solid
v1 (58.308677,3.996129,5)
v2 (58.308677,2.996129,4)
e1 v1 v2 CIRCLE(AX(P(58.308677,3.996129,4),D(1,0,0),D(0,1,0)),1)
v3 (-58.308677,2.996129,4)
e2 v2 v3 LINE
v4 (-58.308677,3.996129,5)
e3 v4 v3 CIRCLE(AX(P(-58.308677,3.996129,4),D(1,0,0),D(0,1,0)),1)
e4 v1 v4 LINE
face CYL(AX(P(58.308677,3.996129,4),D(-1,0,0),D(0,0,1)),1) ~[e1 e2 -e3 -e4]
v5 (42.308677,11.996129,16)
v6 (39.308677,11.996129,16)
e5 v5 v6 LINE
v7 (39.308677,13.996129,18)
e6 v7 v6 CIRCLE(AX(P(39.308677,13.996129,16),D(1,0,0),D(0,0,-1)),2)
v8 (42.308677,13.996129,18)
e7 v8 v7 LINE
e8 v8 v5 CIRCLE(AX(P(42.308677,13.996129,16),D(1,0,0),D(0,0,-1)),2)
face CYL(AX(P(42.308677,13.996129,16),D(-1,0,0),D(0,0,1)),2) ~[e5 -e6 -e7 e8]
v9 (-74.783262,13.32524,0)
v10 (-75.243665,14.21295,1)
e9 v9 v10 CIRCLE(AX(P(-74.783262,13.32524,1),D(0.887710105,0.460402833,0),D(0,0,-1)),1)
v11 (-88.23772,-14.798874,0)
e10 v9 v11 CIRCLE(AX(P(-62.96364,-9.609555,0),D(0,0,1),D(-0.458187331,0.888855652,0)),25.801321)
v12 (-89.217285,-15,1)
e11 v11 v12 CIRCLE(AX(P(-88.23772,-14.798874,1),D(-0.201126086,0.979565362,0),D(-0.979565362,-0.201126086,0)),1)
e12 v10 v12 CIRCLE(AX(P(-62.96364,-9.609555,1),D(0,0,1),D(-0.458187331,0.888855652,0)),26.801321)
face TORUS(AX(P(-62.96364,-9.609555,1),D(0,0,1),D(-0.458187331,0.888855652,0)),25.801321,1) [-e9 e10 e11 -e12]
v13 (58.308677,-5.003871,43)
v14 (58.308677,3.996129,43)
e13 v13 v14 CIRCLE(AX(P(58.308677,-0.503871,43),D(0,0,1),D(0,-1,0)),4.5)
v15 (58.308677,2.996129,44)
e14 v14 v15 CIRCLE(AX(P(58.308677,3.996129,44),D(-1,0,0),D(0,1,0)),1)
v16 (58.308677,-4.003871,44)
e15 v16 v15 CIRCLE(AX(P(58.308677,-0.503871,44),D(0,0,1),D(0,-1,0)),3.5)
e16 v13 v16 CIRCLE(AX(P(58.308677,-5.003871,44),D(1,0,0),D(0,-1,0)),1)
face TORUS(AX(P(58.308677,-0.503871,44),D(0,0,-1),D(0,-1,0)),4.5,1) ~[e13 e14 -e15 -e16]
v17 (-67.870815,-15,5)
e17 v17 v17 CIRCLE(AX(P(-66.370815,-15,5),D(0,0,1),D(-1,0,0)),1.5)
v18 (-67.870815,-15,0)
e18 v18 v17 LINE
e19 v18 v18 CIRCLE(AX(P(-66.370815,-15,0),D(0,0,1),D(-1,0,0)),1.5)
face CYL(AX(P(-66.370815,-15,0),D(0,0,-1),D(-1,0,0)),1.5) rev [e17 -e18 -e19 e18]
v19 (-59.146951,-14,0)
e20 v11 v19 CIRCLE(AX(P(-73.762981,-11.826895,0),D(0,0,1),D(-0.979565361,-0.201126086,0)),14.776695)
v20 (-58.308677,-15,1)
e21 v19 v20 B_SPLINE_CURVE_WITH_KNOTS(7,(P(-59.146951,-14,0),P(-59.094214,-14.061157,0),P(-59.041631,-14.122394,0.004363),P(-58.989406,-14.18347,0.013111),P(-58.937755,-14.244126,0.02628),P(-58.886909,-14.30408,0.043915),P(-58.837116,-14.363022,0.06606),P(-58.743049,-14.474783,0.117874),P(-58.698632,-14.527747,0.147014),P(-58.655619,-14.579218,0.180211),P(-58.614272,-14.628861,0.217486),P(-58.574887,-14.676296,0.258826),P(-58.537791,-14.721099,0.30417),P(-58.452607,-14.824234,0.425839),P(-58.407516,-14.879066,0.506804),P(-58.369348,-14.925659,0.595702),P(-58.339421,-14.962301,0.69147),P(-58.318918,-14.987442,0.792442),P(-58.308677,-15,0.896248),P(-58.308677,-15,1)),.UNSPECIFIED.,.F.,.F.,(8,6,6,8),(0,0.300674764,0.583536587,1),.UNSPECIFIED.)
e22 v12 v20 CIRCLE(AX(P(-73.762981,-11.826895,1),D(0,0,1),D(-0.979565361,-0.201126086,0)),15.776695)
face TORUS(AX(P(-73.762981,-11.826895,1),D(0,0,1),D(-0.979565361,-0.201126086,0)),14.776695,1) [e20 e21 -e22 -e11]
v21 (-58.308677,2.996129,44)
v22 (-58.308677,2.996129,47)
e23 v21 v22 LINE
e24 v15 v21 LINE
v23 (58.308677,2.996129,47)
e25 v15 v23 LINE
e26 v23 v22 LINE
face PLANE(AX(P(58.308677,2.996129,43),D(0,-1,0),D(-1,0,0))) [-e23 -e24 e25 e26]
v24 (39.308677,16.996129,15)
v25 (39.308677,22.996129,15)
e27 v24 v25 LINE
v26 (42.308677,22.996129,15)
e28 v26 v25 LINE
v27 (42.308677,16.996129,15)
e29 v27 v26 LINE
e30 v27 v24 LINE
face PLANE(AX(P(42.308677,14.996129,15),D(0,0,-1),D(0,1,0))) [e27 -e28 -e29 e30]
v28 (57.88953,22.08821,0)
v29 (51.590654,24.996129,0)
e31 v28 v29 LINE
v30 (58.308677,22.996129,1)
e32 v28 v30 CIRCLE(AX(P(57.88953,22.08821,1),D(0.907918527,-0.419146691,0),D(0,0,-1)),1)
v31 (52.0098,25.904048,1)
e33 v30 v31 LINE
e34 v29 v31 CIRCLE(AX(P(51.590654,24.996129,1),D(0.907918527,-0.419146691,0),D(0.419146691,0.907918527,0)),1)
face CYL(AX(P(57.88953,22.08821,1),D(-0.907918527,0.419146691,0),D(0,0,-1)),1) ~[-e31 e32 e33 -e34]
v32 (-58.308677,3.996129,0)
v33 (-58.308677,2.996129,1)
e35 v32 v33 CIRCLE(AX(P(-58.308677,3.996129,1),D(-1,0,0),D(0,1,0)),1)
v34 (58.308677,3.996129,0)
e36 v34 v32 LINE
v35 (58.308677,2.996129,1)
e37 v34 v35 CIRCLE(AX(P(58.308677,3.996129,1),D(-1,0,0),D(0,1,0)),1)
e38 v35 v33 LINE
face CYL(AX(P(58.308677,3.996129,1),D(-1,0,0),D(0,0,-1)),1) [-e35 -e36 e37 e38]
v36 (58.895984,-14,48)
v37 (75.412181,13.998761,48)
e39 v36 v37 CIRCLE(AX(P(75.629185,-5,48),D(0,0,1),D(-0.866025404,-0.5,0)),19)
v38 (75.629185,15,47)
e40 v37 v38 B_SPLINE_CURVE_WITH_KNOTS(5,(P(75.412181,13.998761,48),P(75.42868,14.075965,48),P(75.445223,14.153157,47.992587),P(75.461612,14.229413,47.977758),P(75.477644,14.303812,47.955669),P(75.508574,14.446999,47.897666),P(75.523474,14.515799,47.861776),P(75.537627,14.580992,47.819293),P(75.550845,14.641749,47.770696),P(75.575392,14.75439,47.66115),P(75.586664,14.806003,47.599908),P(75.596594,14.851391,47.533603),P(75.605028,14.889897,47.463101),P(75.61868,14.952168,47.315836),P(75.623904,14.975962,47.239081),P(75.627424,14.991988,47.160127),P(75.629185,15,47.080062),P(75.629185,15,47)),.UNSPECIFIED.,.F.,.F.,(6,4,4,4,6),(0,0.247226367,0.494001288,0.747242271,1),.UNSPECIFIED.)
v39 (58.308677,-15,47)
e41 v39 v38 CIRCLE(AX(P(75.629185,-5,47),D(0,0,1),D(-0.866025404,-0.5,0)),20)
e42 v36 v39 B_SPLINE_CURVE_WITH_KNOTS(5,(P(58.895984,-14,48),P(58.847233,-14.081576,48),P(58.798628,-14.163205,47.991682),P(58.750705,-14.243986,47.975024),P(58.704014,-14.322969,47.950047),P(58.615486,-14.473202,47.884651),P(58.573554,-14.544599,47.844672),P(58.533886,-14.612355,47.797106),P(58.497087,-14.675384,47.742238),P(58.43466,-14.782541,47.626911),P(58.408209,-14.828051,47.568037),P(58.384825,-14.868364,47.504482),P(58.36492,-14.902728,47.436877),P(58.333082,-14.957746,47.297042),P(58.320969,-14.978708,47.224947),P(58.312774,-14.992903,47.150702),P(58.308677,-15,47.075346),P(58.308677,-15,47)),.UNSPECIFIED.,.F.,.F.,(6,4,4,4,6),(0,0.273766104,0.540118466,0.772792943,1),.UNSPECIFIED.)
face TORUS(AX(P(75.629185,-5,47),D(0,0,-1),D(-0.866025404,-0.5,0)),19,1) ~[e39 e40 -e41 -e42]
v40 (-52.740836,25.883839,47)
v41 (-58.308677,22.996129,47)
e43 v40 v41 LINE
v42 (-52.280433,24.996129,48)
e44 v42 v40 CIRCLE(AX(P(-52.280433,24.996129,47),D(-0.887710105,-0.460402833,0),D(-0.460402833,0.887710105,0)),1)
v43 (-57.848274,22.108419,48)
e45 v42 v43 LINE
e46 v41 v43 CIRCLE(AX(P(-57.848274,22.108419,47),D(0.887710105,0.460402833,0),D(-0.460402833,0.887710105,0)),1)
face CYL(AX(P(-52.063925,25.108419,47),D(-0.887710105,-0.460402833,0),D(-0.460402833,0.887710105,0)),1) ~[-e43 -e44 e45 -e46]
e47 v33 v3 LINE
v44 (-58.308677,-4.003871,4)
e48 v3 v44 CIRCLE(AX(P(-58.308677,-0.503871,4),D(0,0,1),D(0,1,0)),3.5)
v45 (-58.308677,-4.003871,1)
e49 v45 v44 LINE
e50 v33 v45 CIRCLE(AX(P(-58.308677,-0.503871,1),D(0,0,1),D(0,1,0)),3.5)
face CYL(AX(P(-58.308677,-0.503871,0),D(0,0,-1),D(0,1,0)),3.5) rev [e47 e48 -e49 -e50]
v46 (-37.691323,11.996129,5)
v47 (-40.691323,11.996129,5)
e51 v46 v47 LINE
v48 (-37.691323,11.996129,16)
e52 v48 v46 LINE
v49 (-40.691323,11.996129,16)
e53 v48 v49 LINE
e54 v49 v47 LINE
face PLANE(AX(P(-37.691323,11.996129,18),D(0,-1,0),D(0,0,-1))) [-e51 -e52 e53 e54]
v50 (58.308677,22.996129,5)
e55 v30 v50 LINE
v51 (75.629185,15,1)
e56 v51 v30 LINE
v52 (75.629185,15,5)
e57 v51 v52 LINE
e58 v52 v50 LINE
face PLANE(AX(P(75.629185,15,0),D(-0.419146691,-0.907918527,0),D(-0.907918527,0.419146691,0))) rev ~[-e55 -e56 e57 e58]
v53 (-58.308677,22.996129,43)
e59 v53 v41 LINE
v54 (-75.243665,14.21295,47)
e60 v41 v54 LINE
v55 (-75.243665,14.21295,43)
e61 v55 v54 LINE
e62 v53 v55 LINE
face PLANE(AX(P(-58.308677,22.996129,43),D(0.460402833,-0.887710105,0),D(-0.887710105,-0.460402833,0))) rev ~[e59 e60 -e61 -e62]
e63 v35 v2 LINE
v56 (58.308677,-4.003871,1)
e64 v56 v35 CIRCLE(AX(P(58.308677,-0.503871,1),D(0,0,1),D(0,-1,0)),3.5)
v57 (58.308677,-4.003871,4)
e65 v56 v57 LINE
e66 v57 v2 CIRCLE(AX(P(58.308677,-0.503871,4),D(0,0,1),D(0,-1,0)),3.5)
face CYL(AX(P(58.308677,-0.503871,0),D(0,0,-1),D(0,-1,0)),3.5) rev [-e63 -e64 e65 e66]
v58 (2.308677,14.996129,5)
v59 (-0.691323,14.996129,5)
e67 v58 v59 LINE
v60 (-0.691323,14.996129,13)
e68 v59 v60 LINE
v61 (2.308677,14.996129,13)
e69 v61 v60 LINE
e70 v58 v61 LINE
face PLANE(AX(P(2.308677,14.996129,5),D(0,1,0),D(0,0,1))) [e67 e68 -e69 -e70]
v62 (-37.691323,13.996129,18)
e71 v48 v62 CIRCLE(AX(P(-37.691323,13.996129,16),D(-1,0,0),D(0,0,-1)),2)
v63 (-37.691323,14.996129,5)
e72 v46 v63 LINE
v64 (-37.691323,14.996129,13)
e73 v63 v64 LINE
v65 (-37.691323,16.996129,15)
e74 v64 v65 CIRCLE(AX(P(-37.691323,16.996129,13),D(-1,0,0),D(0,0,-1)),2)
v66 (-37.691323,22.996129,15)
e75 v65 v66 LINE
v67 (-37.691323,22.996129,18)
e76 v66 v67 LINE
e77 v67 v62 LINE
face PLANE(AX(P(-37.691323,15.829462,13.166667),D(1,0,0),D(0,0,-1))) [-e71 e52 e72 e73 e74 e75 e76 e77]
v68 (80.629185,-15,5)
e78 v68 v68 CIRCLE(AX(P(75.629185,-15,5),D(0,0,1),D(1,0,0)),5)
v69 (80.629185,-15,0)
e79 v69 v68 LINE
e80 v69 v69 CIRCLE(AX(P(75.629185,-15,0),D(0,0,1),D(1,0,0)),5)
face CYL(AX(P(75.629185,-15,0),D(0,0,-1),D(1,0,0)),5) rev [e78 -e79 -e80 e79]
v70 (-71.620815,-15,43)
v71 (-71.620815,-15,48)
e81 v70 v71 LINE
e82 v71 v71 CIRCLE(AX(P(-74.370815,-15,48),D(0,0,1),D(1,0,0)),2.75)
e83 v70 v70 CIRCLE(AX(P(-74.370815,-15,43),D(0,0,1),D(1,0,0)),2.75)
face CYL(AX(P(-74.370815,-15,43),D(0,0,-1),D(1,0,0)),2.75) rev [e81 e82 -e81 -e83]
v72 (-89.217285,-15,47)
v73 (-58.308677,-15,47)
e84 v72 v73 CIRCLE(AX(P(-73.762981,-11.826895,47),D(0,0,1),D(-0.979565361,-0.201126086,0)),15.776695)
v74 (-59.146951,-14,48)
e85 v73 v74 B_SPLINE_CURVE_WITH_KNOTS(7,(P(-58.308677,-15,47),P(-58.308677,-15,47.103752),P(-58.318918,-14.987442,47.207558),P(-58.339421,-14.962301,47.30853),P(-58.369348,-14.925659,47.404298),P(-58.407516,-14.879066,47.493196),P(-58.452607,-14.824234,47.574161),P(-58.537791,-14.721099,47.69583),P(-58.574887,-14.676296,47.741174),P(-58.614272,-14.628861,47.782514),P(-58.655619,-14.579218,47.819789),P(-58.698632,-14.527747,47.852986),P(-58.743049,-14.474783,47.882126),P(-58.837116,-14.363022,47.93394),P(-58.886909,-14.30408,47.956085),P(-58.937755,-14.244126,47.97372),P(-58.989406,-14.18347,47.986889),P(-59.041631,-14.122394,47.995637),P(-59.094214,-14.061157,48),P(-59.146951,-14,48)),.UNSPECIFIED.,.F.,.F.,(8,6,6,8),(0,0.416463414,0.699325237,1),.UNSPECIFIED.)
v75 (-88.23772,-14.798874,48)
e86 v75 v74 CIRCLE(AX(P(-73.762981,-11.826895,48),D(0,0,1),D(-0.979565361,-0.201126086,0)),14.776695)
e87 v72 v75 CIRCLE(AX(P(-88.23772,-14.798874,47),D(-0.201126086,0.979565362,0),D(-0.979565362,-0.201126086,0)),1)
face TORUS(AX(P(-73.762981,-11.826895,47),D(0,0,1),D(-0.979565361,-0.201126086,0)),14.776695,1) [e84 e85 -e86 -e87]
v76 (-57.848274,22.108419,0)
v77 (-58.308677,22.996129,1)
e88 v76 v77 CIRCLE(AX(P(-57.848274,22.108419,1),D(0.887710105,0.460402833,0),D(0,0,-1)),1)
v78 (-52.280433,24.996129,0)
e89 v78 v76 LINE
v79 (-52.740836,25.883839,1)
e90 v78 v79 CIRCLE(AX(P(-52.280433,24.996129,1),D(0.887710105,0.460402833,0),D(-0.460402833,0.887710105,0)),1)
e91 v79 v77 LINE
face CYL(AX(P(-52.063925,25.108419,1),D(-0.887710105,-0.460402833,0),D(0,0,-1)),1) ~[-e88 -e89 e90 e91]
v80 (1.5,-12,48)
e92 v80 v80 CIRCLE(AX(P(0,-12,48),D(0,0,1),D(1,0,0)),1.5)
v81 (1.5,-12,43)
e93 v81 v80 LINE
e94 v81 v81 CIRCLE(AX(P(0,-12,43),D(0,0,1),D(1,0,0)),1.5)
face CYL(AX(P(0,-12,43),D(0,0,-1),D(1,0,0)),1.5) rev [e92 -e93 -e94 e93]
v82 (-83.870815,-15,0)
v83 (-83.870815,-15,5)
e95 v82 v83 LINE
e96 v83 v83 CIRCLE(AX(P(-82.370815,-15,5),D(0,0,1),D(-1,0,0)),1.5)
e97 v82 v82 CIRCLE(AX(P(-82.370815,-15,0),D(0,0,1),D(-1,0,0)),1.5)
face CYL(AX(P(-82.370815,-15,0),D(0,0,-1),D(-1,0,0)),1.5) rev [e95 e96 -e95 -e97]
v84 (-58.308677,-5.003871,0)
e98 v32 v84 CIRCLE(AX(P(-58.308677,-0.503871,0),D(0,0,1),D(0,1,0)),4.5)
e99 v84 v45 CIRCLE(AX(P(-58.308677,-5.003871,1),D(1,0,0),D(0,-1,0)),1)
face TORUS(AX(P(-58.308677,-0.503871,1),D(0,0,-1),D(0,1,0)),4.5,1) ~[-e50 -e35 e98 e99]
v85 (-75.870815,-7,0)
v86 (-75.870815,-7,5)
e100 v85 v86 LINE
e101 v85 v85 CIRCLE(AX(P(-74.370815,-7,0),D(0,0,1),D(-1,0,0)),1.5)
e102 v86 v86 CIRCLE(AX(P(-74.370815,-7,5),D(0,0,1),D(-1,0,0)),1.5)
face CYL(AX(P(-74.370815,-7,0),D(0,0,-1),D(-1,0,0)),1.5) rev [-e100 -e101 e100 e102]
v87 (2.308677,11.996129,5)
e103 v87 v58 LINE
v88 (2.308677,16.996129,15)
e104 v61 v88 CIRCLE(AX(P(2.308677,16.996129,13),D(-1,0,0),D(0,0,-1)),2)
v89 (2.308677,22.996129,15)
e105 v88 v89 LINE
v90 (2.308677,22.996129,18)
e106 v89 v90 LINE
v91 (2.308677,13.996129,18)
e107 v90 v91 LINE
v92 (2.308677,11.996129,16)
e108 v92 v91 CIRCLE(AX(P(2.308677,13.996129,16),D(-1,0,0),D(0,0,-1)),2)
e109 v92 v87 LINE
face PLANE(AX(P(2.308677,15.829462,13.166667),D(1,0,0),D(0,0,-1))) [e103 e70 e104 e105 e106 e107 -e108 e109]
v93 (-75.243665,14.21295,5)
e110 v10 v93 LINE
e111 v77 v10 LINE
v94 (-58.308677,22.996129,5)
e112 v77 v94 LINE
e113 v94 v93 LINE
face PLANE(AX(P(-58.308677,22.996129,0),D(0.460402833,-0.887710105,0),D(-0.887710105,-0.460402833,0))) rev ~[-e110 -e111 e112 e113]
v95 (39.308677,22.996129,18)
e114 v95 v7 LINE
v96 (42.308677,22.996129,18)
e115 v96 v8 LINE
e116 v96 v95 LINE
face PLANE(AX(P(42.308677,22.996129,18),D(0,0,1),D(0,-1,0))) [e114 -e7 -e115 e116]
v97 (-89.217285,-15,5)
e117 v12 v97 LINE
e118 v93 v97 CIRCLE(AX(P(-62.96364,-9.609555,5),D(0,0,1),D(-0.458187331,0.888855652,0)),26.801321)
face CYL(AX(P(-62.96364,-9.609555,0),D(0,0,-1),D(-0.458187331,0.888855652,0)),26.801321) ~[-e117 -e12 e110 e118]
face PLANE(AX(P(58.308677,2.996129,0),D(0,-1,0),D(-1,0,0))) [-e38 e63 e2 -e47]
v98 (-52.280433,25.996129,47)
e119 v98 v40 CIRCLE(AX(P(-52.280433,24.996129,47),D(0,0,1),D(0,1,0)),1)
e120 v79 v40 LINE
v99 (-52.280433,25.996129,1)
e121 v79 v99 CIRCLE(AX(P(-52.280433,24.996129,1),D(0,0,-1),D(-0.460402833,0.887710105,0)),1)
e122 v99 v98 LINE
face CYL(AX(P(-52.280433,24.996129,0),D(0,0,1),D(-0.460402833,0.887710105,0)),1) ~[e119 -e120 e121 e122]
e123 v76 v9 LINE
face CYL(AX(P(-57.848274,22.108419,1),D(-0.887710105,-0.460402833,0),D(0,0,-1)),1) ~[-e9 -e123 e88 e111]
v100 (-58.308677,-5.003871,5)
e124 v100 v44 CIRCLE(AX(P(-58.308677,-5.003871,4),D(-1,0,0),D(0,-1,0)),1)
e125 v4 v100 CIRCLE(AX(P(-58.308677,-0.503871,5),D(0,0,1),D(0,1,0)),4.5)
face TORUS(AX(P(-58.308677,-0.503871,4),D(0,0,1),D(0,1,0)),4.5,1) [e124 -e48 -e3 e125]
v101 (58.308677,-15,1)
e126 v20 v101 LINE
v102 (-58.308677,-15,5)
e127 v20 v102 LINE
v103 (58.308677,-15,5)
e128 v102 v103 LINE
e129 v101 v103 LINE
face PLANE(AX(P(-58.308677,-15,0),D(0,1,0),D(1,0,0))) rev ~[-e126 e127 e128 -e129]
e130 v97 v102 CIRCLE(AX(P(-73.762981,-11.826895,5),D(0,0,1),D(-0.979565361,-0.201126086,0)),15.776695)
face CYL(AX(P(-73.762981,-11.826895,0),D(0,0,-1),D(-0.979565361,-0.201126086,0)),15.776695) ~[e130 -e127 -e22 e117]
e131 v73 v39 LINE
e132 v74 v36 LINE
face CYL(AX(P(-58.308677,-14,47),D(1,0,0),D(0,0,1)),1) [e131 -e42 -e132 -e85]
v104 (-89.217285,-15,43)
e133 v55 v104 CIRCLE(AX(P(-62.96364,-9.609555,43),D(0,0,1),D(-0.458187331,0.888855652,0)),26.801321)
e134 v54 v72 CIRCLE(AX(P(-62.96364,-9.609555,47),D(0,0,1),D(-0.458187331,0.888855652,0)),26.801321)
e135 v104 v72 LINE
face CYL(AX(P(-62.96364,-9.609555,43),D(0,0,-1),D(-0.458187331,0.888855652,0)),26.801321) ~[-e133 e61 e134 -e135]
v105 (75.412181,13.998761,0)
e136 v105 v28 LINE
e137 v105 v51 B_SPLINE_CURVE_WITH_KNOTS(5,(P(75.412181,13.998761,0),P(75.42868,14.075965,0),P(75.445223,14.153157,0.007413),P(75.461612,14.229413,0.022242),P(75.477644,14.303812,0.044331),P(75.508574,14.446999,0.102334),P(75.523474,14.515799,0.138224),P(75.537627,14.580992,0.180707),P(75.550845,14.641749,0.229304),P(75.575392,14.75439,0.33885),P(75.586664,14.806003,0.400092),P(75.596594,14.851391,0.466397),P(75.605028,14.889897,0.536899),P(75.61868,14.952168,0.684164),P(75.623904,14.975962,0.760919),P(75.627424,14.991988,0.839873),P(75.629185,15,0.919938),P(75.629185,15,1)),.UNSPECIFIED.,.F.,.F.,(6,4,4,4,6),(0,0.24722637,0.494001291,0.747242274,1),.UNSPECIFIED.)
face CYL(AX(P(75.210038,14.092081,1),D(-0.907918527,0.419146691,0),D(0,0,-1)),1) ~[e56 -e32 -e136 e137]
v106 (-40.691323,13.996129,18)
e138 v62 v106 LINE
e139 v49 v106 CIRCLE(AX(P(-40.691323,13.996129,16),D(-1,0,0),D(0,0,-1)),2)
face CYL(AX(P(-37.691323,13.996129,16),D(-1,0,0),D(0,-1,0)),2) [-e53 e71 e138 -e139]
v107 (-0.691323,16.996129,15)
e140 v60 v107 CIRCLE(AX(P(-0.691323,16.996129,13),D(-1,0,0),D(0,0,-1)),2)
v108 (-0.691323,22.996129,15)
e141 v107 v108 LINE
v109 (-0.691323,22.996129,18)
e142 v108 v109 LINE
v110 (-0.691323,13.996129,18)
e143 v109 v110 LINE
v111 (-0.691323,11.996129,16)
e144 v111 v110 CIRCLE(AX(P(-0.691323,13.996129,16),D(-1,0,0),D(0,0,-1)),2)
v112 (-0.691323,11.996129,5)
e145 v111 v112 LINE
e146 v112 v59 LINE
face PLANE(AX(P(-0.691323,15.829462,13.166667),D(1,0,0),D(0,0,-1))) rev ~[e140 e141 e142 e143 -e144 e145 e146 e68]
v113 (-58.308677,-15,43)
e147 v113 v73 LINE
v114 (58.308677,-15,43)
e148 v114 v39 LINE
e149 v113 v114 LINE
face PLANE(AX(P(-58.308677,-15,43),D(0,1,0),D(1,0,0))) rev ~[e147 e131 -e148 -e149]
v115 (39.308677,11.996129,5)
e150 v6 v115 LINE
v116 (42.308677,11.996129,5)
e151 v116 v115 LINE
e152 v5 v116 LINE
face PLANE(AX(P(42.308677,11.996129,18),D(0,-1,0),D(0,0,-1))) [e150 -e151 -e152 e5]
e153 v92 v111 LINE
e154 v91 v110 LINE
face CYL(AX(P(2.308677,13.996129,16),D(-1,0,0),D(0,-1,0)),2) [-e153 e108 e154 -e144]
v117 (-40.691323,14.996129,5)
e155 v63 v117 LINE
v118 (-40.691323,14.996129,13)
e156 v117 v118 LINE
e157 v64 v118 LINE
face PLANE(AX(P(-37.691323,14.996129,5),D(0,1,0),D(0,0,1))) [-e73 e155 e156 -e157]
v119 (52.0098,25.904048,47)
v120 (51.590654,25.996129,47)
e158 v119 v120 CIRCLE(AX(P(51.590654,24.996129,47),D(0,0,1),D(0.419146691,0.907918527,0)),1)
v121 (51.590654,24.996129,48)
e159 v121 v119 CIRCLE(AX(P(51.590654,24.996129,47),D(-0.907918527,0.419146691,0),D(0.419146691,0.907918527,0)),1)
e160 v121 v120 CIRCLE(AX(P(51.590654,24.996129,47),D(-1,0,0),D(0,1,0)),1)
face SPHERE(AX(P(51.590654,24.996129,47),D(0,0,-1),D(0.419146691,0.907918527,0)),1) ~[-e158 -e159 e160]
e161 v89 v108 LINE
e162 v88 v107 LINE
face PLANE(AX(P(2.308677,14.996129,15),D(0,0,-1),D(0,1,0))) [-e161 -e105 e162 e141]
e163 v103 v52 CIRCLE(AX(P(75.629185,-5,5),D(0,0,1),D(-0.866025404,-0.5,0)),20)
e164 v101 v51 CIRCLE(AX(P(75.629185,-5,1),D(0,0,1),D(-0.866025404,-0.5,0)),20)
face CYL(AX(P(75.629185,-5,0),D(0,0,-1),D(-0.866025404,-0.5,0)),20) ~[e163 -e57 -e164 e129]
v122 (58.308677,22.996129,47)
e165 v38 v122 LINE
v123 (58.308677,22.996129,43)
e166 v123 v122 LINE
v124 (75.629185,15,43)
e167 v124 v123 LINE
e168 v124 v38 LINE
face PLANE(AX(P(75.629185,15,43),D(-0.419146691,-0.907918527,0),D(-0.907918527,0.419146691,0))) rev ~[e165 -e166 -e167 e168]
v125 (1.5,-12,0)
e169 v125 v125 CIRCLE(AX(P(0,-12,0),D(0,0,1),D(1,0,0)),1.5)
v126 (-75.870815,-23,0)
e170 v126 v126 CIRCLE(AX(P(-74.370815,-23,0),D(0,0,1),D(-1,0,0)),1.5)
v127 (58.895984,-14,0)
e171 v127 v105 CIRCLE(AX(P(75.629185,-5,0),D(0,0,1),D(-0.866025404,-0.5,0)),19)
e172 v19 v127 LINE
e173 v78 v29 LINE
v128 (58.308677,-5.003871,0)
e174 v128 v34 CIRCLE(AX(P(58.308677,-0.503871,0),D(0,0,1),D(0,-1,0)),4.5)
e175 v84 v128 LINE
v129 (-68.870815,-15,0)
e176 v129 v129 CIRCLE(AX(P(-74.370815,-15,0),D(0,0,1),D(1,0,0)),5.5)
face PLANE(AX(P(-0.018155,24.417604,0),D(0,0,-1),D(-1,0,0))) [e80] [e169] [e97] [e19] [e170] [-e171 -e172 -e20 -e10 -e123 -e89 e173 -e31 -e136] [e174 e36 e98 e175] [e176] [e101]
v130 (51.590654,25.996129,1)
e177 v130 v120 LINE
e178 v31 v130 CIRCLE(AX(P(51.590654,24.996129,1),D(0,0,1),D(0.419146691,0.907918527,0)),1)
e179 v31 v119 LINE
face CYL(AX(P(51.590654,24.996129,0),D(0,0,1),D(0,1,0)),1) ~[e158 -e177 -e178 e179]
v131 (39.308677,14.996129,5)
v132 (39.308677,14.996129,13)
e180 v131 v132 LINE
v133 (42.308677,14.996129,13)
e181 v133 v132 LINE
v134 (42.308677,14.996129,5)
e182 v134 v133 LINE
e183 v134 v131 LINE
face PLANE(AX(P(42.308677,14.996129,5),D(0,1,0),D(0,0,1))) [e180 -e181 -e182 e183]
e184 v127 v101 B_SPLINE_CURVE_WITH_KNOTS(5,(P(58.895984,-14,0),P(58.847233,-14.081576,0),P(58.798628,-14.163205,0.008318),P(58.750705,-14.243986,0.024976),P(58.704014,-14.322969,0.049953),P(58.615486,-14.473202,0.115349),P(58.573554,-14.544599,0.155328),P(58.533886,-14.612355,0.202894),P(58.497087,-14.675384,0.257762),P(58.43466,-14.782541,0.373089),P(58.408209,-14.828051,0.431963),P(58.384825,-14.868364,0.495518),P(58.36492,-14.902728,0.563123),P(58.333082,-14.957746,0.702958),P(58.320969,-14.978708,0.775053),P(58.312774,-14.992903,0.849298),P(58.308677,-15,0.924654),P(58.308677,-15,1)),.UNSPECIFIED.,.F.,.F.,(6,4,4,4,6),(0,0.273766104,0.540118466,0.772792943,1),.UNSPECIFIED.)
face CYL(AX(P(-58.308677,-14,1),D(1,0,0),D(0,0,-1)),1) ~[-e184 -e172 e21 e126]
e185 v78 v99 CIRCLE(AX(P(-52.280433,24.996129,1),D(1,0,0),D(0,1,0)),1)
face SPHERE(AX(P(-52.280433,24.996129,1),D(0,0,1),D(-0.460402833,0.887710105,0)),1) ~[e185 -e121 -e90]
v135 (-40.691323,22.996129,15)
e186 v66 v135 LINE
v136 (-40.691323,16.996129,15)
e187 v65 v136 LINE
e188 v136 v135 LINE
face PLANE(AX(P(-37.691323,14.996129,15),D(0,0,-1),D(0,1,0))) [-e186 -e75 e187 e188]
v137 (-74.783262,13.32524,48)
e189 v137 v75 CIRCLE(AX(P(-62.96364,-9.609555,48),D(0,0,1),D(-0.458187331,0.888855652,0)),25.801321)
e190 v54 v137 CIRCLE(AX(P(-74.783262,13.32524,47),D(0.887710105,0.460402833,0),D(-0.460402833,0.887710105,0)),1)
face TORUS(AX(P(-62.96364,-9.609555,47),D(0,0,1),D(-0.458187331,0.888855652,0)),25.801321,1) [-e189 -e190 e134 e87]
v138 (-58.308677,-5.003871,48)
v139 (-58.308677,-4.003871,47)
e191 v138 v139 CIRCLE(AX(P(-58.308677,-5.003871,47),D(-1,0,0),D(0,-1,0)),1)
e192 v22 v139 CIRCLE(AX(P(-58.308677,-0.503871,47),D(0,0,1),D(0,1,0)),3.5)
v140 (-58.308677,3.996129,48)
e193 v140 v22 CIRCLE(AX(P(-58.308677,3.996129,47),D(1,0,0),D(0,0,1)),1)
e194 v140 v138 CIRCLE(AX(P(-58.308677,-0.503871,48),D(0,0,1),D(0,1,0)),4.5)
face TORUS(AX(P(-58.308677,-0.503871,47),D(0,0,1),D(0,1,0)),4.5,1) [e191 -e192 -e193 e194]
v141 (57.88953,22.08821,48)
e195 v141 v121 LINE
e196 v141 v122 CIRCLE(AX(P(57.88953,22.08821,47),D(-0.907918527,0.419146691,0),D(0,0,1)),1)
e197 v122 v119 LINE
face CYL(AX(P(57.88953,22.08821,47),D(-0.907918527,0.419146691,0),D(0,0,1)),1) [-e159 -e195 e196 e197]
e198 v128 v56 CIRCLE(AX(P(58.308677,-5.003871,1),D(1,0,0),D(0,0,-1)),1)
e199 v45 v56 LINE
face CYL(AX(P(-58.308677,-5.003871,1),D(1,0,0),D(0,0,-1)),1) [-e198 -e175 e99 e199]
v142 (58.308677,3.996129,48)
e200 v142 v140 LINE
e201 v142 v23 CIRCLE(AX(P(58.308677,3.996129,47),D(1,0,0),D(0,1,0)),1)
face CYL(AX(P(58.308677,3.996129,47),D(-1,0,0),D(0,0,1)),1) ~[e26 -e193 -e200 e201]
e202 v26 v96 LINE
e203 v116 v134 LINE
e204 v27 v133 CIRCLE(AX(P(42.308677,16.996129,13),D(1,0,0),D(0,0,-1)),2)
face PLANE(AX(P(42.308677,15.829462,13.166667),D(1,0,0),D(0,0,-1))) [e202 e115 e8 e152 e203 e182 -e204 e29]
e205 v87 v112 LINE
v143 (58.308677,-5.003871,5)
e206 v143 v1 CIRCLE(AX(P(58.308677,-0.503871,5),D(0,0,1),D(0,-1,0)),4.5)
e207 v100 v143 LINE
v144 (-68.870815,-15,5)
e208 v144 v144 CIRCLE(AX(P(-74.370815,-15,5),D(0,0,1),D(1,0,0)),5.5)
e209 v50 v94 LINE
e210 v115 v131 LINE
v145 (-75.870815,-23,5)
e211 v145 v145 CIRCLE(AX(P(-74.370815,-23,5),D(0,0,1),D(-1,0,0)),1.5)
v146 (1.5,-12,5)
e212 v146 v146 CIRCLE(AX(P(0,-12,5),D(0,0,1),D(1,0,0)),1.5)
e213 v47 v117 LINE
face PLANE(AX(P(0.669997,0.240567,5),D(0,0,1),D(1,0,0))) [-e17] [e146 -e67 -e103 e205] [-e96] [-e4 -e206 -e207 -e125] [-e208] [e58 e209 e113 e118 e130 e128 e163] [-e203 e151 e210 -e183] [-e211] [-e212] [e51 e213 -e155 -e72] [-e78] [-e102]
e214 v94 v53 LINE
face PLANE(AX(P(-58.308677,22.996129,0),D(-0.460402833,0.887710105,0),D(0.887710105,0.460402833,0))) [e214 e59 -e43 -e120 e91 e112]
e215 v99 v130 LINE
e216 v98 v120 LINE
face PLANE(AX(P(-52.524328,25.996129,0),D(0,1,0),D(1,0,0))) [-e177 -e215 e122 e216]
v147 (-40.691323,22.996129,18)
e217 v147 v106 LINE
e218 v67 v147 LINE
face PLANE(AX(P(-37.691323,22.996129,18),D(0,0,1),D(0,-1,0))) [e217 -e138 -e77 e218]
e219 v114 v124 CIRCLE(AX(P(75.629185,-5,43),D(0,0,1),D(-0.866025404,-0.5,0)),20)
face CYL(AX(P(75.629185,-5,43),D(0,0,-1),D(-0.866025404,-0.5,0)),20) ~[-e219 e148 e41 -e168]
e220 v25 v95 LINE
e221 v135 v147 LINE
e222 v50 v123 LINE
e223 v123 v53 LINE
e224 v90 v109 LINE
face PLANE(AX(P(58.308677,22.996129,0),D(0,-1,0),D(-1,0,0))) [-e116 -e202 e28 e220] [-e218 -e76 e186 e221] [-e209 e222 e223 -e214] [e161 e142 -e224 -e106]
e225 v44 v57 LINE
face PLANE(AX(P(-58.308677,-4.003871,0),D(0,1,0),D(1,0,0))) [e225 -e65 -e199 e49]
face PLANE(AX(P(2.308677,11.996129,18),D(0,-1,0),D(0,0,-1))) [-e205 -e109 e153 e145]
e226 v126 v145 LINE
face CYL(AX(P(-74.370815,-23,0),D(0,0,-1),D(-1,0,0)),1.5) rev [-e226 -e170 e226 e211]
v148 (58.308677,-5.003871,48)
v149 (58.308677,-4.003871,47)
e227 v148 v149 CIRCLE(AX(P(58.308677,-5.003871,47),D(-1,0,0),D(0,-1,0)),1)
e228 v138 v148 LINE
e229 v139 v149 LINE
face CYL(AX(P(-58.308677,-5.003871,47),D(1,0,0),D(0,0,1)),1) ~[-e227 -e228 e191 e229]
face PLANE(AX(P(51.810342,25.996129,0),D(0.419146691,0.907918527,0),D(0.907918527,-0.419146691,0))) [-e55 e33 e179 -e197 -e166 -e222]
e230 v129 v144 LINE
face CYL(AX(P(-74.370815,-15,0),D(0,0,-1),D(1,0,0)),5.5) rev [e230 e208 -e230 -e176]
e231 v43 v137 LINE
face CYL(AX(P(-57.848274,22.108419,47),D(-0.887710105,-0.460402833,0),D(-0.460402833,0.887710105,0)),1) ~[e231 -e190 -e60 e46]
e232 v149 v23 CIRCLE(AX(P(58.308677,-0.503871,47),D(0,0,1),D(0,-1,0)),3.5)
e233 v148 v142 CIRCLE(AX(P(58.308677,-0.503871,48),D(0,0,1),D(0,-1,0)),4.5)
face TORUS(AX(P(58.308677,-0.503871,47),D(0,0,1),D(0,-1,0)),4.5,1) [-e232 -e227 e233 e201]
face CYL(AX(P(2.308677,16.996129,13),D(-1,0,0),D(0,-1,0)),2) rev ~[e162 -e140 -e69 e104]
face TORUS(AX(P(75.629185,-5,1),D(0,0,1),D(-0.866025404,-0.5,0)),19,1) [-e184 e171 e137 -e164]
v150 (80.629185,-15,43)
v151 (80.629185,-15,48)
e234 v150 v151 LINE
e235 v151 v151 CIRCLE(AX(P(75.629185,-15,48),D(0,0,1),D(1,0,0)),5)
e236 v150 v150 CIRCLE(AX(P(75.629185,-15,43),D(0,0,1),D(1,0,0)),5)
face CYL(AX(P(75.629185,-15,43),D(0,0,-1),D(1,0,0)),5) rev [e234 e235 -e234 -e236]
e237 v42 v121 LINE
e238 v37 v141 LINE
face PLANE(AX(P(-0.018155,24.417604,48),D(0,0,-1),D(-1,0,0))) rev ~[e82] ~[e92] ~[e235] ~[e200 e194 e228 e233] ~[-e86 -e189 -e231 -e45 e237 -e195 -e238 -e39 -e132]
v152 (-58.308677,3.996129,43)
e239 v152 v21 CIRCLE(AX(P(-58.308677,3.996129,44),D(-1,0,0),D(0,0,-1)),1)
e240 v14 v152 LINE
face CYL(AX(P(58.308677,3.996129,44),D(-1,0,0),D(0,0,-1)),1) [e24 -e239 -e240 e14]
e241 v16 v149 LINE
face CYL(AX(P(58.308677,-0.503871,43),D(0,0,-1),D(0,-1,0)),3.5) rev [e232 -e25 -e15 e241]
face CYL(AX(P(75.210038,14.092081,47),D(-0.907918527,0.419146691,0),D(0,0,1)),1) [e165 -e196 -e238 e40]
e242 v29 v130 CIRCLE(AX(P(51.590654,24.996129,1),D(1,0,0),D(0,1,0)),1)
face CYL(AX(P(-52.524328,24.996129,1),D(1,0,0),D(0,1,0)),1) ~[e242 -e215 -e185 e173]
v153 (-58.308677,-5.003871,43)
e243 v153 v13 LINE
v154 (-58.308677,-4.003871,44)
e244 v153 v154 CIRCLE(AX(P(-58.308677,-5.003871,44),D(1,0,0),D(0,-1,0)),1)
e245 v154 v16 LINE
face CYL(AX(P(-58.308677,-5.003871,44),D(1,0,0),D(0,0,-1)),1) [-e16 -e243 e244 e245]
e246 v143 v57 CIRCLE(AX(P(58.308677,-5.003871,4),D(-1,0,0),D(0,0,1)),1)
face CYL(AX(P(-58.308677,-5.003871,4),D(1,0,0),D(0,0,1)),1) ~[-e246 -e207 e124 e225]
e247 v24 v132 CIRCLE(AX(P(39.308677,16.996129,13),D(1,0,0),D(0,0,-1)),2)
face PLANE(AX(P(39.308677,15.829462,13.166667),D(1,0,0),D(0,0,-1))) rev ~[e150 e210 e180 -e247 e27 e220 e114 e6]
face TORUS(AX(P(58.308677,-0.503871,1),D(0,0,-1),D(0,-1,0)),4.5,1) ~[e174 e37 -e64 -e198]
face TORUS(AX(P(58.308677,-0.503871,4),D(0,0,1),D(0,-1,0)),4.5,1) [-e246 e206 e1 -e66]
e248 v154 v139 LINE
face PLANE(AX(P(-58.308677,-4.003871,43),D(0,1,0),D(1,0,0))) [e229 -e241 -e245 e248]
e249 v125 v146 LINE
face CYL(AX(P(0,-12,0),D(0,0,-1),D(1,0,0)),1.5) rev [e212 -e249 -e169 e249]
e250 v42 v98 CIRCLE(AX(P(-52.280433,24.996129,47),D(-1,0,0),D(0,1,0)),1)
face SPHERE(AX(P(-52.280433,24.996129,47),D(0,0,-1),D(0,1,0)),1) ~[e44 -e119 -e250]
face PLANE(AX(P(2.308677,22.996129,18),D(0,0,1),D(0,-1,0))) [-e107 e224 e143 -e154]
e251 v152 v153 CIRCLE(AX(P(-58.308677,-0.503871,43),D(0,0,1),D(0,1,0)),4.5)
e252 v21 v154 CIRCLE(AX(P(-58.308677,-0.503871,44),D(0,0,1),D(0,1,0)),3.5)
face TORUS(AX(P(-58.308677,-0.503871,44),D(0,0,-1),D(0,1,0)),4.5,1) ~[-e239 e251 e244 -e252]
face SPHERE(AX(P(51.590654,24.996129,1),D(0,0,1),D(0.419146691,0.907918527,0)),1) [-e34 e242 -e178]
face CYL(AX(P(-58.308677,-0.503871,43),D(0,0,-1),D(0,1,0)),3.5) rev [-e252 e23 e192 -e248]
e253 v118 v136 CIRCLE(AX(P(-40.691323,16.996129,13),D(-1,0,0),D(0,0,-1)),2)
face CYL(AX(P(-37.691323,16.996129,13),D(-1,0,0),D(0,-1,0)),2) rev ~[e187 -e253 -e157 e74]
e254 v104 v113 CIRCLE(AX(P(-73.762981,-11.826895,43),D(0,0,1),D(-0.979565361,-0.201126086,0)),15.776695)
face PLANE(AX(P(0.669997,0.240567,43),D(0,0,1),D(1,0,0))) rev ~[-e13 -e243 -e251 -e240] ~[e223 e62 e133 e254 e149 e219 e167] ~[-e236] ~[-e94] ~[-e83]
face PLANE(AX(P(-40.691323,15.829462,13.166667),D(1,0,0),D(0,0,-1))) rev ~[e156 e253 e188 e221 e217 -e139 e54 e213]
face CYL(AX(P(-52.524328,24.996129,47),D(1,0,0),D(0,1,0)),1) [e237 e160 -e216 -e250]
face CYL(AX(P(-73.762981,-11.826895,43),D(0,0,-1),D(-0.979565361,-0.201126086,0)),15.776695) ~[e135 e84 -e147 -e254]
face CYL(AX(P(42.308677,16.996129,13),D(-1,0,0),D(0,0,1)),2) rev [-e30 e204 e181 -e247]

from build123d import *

# Parameters (mm, degrees)
SKETCH1_R              = 5.5
SKETCH1_R_2            = 1.5
SKETCH1_R_3            = 5
BOSS_EXTRUDE1_DEPTH    = 5
SKETCH2_R              = 2.75
SKETCH2_R_2            = 5
SKETCH2_R_3            = 1.5
BOSS_EXTRUDE2_DEPTH    = 5
BOSS_EXTRUDE4_START    = -48
BOSS_EXTRUDE4_DEPTH    = 48
FILLET1_R              = 1
BOSS_EXTRUDE5_START    = -16
BOSS_EXTRUDE5_DEPTH    = 3
FILLET2_R              = 2
LPATTERN1_COUNT        = 3
LPATTERN1_PITCH        = 40
FILLET2_OF_LPATTERN1_R = 2


with BuildPart() as part:
    # Sketch1 → Boss-Extrude1 (new body)
    with BuildSketch(Plane.XY):
        with BuildLine():
            Line((-58.308676511, -15), (58.308676511, -15))
            ThreePointArc((58.308676511, -15), (92.949692663, -15), (75.629184587, 15))
            Line((75.629184587, 15), (58.308676511, 22.996128985))
            Line((58.308676511, 22.996128985), (-58.308676511, 22.996128985))
            Line((-58.308676511, 22.996128985), (-75.243665272, 14.212949924))
            ThreePointArc((-75.243665272, 14.212949924), (-87.141316573, 1.955509585), (-89.217284989, -15))
            ThreePointArc((-89.217284989, -15), (-73.76298075, -27.603590324), (-58.308676511, -15))
        make_face()
        with Locations((-74.370815413, -15)):
            Circle(SKETCH1_R, mode=Mode.SUBTRACT)
        with Locations(Location((-74.370815413, -7, 0), (0, 0, 180))):
            Circle(SKETCH1_R_2, mode=Mode.SUBTRACT)
        with Locations((75.629184587, -15)):
            Circle(SKETCH1_R_3, mode=Mode.SUBTRACT)
        with Locations((0, -12)):
            Circle(SKETCH1_R_2, mode=Mode.SUBTRACT)
        with Locations(Location((-66.370815413, -15, 0), (0, 0, 180))):
            Circle(SKETCH1_R_2, mode=Mode.SUBTRACT)
        with Locations(Location((-74.370815413, -23, 0), (0, 0, 180))):
            Circle(SKETCH1_R_2, mode=Mode.SUBTRACT)
        with Locations(Location((-82.370815413, -15, 0), (0, 0, 180))):
            Circle(SKETCH1_R_2, mode=Mode.SUBTRACT)
        with BuildLine():
            Line((-58.308676511, -4.003871015), (58.308676511, -4.003871015))
            ThreePointArc((58.308676511, -4.003871015), (61.808676511, -0.503871015), (58.308676511, 2.996128985))
            Line((58.308676511, 2.996128985), (-58.308676511, 2.996128985))
            ThreePointArc((-58.308676511, 2.996128985), (-61.808676511, -0.503871015), (-58.308676511, -4.003871015))
        make_face(mode=Mode.SUBTRACT)
    extrude(amount=BOSS_EXTRUDE1_DEPTH)



with BuildPart() as body_2:
    # Sketch2 → Boss-Extrude2 (new body)
    with BuildSketch(Plane.XY.offset(43)):
        with BuildLine():
            Line((58.308676511, 22.996128985), (-58.308676511, 22.996128985))
            Line((-58.308676511, 22.996128985), (-75.243665272, 14.212949924))
            ThreePointArc((-75.243665272, 14.212949924), (-87.141316573, 1.955509585), (-89.217284989, -15))
            ThreePointArc((-89.217284989, -15), (-73.76298075, -27.603590324), (-58.308676511, -15))
            Line((-58.308676511, -15), (58.308676511, -15))
            ThreePointArc((58.308676511, -15), (92.949692663, -15), (75.629184587, 15))
            Line((75.629184587, 15), (58.308676511, 22.996128985))
        make_face()
        with Locations((-74.370815413, -15)):
            Circle(SKETCH2_R, mode=Mode.SUBTRACT)
        with Locations((75.629184587, -15)):
            Circle(SKETCH2_R_2, mode=Mode.SUBTRACT)
        with Locations((0, -12)):
            Circle(SKETCH2_R_3, mode=Mode.SUBTRACT)
        with BuildLine():
            Line((-58.308676511, -4.003871015), (58.308676511, -4.003871015))
            ThreePointArc((58.308676511, -4.003871015), (61.808676511, -0.503871015), (58.308676511, 2.996128985))
            Line((58.308676511, 2.996128985), (-58.308676511, 2.996128985))
            ThreePointArc((-58.308676511, 2.996128985), (-61.808676511, -0.503871015), (-58.308676511, -4.003871015))
        make_face(mode=Mode.SUBTRACT)
    extrude(amount=BOSS_EXTRUDE2_DEPTH)


with BuildPart() as part_1:
    add(part.part)

    add(body_2.part)  # Boss-Extrude4 merges body 2
    # Sketch5 → Boss-Extrude4 (add)
    with BuildSketch(Plane.XY.offset(48).offset(BOSS_EXTRUDE4_START)):
        Polygon((-58.308676511, 22.996128985), (-52.524328279, 25.996128985), (51.810341589, 25.996128985), (58.308676511, 22.996128985), align=None)
    extrude(amount=BOSS_EXTRUDE4_DEPTH)

    # Fillet1
    fillet1_edges = [part_1.edges().sort_by_distance(p)[0] for p in [
        (-73.76298075, -27.603590324, 0),
        (-61.808676511, -0.503871015, 0),
        (0, -4.003871015, 0),
        (61.808676511, -0.503871015, 0),
        (0, 2.996128985, 0),
        (-61.808676511, -0.503871015, 5),
        (0, -4.003871015, 5),
        (61.808676511, -0.503871015, 5),
        (0, 2.996128985, 5),
        (-0.356993345, 25.996128985, 0),
        (-52.524328279, 25.996128985, 24),
        (51.810341589, 25.996128985, 24),
        (63.719763088, 20.498064493, 48),
        (-0.356993345, 25.996128985, 48),
        (-63.883996775, 20.104539454, 48),
        (-87.141316573, 1.955509585, 0),
        (-73.76298075, -27.603590324, 48),
        (0, -15, 48),
        (92.949692663, -15, 48),
        (-87.141316573, 1.955509585, 48),
        (61.808676511, -0.503871015, 43),
        (0, 2.996128985, 43),
        (-61.808676511, -0.503871015, 43),
        (0, -4.003871015, 43),
        (-63.883996775, 20.104539454, 0),
        (61.808676511, -0.503871015, 48),
        (0, 2.996128985, 48),
        (-61.808676511, -0.503871015, 48),
        (0, -4.003871015, 48),
        (63.719763088, 20.498064493, 0),
        (92.949692663, -15, 0),
        (0, -15, 0),
    ]]
    fillet(fillet1_edges, radius=FILLET1_R)

    # Sketch7 → Boss-Extrude5 (add)
    with BuildSketch(Plane(origin=(58.308676511, 0, 0), x_dir=(0, 0, -1), z_dir=(1, 0, 0)).offset(BOSS_EXTRUDE5_START)):
        Polygon((-5, 14.996128985), (-15, 14.996128985), (-15, 22.996128985), (-18, 22.996128985), (-18, 11.996128985), (-5, 11.996128985), align=None)
    boss_extrude5 = extrude(amount=-BOSS_EXTRUDE5_DEPTH)

    # Fillet2
    fillet2_edges = [part_1.edges().sort_by_distance(p)[0] for p in [
        (40.808676511, 11.996128985, 18),
        (40.808676511, 14.996128985, 15),
    ]]
    fillet(fillet2_edges, radius=FILLET2_R)

    # LPattern1: Boss-Extrude5 ×3
    with Locations(*[(-i * LPATTERN1_PITCH, 0, 0) for i in range(1, LPATTERN1_COUNT)]):
        add(boss_extrude5)

    # Fillet2 of LPattern1
    fillet2_of_lpattern1_edges = [part_1.edges().sort_by_distance(p)[0] for p in [
        (0.808676511, 11.996128985, 18),
        (0.808676511, 14.996128985, 15),
        (-39.191323489, 11.996128985, 18),
        (-39.191323489, 14.996128985, 15),
    ]]
    fillet(fillet2_of_lpattern1_edges, radius=FILLET2_OF_LPATTERN1_R)


solid = part_1.part
